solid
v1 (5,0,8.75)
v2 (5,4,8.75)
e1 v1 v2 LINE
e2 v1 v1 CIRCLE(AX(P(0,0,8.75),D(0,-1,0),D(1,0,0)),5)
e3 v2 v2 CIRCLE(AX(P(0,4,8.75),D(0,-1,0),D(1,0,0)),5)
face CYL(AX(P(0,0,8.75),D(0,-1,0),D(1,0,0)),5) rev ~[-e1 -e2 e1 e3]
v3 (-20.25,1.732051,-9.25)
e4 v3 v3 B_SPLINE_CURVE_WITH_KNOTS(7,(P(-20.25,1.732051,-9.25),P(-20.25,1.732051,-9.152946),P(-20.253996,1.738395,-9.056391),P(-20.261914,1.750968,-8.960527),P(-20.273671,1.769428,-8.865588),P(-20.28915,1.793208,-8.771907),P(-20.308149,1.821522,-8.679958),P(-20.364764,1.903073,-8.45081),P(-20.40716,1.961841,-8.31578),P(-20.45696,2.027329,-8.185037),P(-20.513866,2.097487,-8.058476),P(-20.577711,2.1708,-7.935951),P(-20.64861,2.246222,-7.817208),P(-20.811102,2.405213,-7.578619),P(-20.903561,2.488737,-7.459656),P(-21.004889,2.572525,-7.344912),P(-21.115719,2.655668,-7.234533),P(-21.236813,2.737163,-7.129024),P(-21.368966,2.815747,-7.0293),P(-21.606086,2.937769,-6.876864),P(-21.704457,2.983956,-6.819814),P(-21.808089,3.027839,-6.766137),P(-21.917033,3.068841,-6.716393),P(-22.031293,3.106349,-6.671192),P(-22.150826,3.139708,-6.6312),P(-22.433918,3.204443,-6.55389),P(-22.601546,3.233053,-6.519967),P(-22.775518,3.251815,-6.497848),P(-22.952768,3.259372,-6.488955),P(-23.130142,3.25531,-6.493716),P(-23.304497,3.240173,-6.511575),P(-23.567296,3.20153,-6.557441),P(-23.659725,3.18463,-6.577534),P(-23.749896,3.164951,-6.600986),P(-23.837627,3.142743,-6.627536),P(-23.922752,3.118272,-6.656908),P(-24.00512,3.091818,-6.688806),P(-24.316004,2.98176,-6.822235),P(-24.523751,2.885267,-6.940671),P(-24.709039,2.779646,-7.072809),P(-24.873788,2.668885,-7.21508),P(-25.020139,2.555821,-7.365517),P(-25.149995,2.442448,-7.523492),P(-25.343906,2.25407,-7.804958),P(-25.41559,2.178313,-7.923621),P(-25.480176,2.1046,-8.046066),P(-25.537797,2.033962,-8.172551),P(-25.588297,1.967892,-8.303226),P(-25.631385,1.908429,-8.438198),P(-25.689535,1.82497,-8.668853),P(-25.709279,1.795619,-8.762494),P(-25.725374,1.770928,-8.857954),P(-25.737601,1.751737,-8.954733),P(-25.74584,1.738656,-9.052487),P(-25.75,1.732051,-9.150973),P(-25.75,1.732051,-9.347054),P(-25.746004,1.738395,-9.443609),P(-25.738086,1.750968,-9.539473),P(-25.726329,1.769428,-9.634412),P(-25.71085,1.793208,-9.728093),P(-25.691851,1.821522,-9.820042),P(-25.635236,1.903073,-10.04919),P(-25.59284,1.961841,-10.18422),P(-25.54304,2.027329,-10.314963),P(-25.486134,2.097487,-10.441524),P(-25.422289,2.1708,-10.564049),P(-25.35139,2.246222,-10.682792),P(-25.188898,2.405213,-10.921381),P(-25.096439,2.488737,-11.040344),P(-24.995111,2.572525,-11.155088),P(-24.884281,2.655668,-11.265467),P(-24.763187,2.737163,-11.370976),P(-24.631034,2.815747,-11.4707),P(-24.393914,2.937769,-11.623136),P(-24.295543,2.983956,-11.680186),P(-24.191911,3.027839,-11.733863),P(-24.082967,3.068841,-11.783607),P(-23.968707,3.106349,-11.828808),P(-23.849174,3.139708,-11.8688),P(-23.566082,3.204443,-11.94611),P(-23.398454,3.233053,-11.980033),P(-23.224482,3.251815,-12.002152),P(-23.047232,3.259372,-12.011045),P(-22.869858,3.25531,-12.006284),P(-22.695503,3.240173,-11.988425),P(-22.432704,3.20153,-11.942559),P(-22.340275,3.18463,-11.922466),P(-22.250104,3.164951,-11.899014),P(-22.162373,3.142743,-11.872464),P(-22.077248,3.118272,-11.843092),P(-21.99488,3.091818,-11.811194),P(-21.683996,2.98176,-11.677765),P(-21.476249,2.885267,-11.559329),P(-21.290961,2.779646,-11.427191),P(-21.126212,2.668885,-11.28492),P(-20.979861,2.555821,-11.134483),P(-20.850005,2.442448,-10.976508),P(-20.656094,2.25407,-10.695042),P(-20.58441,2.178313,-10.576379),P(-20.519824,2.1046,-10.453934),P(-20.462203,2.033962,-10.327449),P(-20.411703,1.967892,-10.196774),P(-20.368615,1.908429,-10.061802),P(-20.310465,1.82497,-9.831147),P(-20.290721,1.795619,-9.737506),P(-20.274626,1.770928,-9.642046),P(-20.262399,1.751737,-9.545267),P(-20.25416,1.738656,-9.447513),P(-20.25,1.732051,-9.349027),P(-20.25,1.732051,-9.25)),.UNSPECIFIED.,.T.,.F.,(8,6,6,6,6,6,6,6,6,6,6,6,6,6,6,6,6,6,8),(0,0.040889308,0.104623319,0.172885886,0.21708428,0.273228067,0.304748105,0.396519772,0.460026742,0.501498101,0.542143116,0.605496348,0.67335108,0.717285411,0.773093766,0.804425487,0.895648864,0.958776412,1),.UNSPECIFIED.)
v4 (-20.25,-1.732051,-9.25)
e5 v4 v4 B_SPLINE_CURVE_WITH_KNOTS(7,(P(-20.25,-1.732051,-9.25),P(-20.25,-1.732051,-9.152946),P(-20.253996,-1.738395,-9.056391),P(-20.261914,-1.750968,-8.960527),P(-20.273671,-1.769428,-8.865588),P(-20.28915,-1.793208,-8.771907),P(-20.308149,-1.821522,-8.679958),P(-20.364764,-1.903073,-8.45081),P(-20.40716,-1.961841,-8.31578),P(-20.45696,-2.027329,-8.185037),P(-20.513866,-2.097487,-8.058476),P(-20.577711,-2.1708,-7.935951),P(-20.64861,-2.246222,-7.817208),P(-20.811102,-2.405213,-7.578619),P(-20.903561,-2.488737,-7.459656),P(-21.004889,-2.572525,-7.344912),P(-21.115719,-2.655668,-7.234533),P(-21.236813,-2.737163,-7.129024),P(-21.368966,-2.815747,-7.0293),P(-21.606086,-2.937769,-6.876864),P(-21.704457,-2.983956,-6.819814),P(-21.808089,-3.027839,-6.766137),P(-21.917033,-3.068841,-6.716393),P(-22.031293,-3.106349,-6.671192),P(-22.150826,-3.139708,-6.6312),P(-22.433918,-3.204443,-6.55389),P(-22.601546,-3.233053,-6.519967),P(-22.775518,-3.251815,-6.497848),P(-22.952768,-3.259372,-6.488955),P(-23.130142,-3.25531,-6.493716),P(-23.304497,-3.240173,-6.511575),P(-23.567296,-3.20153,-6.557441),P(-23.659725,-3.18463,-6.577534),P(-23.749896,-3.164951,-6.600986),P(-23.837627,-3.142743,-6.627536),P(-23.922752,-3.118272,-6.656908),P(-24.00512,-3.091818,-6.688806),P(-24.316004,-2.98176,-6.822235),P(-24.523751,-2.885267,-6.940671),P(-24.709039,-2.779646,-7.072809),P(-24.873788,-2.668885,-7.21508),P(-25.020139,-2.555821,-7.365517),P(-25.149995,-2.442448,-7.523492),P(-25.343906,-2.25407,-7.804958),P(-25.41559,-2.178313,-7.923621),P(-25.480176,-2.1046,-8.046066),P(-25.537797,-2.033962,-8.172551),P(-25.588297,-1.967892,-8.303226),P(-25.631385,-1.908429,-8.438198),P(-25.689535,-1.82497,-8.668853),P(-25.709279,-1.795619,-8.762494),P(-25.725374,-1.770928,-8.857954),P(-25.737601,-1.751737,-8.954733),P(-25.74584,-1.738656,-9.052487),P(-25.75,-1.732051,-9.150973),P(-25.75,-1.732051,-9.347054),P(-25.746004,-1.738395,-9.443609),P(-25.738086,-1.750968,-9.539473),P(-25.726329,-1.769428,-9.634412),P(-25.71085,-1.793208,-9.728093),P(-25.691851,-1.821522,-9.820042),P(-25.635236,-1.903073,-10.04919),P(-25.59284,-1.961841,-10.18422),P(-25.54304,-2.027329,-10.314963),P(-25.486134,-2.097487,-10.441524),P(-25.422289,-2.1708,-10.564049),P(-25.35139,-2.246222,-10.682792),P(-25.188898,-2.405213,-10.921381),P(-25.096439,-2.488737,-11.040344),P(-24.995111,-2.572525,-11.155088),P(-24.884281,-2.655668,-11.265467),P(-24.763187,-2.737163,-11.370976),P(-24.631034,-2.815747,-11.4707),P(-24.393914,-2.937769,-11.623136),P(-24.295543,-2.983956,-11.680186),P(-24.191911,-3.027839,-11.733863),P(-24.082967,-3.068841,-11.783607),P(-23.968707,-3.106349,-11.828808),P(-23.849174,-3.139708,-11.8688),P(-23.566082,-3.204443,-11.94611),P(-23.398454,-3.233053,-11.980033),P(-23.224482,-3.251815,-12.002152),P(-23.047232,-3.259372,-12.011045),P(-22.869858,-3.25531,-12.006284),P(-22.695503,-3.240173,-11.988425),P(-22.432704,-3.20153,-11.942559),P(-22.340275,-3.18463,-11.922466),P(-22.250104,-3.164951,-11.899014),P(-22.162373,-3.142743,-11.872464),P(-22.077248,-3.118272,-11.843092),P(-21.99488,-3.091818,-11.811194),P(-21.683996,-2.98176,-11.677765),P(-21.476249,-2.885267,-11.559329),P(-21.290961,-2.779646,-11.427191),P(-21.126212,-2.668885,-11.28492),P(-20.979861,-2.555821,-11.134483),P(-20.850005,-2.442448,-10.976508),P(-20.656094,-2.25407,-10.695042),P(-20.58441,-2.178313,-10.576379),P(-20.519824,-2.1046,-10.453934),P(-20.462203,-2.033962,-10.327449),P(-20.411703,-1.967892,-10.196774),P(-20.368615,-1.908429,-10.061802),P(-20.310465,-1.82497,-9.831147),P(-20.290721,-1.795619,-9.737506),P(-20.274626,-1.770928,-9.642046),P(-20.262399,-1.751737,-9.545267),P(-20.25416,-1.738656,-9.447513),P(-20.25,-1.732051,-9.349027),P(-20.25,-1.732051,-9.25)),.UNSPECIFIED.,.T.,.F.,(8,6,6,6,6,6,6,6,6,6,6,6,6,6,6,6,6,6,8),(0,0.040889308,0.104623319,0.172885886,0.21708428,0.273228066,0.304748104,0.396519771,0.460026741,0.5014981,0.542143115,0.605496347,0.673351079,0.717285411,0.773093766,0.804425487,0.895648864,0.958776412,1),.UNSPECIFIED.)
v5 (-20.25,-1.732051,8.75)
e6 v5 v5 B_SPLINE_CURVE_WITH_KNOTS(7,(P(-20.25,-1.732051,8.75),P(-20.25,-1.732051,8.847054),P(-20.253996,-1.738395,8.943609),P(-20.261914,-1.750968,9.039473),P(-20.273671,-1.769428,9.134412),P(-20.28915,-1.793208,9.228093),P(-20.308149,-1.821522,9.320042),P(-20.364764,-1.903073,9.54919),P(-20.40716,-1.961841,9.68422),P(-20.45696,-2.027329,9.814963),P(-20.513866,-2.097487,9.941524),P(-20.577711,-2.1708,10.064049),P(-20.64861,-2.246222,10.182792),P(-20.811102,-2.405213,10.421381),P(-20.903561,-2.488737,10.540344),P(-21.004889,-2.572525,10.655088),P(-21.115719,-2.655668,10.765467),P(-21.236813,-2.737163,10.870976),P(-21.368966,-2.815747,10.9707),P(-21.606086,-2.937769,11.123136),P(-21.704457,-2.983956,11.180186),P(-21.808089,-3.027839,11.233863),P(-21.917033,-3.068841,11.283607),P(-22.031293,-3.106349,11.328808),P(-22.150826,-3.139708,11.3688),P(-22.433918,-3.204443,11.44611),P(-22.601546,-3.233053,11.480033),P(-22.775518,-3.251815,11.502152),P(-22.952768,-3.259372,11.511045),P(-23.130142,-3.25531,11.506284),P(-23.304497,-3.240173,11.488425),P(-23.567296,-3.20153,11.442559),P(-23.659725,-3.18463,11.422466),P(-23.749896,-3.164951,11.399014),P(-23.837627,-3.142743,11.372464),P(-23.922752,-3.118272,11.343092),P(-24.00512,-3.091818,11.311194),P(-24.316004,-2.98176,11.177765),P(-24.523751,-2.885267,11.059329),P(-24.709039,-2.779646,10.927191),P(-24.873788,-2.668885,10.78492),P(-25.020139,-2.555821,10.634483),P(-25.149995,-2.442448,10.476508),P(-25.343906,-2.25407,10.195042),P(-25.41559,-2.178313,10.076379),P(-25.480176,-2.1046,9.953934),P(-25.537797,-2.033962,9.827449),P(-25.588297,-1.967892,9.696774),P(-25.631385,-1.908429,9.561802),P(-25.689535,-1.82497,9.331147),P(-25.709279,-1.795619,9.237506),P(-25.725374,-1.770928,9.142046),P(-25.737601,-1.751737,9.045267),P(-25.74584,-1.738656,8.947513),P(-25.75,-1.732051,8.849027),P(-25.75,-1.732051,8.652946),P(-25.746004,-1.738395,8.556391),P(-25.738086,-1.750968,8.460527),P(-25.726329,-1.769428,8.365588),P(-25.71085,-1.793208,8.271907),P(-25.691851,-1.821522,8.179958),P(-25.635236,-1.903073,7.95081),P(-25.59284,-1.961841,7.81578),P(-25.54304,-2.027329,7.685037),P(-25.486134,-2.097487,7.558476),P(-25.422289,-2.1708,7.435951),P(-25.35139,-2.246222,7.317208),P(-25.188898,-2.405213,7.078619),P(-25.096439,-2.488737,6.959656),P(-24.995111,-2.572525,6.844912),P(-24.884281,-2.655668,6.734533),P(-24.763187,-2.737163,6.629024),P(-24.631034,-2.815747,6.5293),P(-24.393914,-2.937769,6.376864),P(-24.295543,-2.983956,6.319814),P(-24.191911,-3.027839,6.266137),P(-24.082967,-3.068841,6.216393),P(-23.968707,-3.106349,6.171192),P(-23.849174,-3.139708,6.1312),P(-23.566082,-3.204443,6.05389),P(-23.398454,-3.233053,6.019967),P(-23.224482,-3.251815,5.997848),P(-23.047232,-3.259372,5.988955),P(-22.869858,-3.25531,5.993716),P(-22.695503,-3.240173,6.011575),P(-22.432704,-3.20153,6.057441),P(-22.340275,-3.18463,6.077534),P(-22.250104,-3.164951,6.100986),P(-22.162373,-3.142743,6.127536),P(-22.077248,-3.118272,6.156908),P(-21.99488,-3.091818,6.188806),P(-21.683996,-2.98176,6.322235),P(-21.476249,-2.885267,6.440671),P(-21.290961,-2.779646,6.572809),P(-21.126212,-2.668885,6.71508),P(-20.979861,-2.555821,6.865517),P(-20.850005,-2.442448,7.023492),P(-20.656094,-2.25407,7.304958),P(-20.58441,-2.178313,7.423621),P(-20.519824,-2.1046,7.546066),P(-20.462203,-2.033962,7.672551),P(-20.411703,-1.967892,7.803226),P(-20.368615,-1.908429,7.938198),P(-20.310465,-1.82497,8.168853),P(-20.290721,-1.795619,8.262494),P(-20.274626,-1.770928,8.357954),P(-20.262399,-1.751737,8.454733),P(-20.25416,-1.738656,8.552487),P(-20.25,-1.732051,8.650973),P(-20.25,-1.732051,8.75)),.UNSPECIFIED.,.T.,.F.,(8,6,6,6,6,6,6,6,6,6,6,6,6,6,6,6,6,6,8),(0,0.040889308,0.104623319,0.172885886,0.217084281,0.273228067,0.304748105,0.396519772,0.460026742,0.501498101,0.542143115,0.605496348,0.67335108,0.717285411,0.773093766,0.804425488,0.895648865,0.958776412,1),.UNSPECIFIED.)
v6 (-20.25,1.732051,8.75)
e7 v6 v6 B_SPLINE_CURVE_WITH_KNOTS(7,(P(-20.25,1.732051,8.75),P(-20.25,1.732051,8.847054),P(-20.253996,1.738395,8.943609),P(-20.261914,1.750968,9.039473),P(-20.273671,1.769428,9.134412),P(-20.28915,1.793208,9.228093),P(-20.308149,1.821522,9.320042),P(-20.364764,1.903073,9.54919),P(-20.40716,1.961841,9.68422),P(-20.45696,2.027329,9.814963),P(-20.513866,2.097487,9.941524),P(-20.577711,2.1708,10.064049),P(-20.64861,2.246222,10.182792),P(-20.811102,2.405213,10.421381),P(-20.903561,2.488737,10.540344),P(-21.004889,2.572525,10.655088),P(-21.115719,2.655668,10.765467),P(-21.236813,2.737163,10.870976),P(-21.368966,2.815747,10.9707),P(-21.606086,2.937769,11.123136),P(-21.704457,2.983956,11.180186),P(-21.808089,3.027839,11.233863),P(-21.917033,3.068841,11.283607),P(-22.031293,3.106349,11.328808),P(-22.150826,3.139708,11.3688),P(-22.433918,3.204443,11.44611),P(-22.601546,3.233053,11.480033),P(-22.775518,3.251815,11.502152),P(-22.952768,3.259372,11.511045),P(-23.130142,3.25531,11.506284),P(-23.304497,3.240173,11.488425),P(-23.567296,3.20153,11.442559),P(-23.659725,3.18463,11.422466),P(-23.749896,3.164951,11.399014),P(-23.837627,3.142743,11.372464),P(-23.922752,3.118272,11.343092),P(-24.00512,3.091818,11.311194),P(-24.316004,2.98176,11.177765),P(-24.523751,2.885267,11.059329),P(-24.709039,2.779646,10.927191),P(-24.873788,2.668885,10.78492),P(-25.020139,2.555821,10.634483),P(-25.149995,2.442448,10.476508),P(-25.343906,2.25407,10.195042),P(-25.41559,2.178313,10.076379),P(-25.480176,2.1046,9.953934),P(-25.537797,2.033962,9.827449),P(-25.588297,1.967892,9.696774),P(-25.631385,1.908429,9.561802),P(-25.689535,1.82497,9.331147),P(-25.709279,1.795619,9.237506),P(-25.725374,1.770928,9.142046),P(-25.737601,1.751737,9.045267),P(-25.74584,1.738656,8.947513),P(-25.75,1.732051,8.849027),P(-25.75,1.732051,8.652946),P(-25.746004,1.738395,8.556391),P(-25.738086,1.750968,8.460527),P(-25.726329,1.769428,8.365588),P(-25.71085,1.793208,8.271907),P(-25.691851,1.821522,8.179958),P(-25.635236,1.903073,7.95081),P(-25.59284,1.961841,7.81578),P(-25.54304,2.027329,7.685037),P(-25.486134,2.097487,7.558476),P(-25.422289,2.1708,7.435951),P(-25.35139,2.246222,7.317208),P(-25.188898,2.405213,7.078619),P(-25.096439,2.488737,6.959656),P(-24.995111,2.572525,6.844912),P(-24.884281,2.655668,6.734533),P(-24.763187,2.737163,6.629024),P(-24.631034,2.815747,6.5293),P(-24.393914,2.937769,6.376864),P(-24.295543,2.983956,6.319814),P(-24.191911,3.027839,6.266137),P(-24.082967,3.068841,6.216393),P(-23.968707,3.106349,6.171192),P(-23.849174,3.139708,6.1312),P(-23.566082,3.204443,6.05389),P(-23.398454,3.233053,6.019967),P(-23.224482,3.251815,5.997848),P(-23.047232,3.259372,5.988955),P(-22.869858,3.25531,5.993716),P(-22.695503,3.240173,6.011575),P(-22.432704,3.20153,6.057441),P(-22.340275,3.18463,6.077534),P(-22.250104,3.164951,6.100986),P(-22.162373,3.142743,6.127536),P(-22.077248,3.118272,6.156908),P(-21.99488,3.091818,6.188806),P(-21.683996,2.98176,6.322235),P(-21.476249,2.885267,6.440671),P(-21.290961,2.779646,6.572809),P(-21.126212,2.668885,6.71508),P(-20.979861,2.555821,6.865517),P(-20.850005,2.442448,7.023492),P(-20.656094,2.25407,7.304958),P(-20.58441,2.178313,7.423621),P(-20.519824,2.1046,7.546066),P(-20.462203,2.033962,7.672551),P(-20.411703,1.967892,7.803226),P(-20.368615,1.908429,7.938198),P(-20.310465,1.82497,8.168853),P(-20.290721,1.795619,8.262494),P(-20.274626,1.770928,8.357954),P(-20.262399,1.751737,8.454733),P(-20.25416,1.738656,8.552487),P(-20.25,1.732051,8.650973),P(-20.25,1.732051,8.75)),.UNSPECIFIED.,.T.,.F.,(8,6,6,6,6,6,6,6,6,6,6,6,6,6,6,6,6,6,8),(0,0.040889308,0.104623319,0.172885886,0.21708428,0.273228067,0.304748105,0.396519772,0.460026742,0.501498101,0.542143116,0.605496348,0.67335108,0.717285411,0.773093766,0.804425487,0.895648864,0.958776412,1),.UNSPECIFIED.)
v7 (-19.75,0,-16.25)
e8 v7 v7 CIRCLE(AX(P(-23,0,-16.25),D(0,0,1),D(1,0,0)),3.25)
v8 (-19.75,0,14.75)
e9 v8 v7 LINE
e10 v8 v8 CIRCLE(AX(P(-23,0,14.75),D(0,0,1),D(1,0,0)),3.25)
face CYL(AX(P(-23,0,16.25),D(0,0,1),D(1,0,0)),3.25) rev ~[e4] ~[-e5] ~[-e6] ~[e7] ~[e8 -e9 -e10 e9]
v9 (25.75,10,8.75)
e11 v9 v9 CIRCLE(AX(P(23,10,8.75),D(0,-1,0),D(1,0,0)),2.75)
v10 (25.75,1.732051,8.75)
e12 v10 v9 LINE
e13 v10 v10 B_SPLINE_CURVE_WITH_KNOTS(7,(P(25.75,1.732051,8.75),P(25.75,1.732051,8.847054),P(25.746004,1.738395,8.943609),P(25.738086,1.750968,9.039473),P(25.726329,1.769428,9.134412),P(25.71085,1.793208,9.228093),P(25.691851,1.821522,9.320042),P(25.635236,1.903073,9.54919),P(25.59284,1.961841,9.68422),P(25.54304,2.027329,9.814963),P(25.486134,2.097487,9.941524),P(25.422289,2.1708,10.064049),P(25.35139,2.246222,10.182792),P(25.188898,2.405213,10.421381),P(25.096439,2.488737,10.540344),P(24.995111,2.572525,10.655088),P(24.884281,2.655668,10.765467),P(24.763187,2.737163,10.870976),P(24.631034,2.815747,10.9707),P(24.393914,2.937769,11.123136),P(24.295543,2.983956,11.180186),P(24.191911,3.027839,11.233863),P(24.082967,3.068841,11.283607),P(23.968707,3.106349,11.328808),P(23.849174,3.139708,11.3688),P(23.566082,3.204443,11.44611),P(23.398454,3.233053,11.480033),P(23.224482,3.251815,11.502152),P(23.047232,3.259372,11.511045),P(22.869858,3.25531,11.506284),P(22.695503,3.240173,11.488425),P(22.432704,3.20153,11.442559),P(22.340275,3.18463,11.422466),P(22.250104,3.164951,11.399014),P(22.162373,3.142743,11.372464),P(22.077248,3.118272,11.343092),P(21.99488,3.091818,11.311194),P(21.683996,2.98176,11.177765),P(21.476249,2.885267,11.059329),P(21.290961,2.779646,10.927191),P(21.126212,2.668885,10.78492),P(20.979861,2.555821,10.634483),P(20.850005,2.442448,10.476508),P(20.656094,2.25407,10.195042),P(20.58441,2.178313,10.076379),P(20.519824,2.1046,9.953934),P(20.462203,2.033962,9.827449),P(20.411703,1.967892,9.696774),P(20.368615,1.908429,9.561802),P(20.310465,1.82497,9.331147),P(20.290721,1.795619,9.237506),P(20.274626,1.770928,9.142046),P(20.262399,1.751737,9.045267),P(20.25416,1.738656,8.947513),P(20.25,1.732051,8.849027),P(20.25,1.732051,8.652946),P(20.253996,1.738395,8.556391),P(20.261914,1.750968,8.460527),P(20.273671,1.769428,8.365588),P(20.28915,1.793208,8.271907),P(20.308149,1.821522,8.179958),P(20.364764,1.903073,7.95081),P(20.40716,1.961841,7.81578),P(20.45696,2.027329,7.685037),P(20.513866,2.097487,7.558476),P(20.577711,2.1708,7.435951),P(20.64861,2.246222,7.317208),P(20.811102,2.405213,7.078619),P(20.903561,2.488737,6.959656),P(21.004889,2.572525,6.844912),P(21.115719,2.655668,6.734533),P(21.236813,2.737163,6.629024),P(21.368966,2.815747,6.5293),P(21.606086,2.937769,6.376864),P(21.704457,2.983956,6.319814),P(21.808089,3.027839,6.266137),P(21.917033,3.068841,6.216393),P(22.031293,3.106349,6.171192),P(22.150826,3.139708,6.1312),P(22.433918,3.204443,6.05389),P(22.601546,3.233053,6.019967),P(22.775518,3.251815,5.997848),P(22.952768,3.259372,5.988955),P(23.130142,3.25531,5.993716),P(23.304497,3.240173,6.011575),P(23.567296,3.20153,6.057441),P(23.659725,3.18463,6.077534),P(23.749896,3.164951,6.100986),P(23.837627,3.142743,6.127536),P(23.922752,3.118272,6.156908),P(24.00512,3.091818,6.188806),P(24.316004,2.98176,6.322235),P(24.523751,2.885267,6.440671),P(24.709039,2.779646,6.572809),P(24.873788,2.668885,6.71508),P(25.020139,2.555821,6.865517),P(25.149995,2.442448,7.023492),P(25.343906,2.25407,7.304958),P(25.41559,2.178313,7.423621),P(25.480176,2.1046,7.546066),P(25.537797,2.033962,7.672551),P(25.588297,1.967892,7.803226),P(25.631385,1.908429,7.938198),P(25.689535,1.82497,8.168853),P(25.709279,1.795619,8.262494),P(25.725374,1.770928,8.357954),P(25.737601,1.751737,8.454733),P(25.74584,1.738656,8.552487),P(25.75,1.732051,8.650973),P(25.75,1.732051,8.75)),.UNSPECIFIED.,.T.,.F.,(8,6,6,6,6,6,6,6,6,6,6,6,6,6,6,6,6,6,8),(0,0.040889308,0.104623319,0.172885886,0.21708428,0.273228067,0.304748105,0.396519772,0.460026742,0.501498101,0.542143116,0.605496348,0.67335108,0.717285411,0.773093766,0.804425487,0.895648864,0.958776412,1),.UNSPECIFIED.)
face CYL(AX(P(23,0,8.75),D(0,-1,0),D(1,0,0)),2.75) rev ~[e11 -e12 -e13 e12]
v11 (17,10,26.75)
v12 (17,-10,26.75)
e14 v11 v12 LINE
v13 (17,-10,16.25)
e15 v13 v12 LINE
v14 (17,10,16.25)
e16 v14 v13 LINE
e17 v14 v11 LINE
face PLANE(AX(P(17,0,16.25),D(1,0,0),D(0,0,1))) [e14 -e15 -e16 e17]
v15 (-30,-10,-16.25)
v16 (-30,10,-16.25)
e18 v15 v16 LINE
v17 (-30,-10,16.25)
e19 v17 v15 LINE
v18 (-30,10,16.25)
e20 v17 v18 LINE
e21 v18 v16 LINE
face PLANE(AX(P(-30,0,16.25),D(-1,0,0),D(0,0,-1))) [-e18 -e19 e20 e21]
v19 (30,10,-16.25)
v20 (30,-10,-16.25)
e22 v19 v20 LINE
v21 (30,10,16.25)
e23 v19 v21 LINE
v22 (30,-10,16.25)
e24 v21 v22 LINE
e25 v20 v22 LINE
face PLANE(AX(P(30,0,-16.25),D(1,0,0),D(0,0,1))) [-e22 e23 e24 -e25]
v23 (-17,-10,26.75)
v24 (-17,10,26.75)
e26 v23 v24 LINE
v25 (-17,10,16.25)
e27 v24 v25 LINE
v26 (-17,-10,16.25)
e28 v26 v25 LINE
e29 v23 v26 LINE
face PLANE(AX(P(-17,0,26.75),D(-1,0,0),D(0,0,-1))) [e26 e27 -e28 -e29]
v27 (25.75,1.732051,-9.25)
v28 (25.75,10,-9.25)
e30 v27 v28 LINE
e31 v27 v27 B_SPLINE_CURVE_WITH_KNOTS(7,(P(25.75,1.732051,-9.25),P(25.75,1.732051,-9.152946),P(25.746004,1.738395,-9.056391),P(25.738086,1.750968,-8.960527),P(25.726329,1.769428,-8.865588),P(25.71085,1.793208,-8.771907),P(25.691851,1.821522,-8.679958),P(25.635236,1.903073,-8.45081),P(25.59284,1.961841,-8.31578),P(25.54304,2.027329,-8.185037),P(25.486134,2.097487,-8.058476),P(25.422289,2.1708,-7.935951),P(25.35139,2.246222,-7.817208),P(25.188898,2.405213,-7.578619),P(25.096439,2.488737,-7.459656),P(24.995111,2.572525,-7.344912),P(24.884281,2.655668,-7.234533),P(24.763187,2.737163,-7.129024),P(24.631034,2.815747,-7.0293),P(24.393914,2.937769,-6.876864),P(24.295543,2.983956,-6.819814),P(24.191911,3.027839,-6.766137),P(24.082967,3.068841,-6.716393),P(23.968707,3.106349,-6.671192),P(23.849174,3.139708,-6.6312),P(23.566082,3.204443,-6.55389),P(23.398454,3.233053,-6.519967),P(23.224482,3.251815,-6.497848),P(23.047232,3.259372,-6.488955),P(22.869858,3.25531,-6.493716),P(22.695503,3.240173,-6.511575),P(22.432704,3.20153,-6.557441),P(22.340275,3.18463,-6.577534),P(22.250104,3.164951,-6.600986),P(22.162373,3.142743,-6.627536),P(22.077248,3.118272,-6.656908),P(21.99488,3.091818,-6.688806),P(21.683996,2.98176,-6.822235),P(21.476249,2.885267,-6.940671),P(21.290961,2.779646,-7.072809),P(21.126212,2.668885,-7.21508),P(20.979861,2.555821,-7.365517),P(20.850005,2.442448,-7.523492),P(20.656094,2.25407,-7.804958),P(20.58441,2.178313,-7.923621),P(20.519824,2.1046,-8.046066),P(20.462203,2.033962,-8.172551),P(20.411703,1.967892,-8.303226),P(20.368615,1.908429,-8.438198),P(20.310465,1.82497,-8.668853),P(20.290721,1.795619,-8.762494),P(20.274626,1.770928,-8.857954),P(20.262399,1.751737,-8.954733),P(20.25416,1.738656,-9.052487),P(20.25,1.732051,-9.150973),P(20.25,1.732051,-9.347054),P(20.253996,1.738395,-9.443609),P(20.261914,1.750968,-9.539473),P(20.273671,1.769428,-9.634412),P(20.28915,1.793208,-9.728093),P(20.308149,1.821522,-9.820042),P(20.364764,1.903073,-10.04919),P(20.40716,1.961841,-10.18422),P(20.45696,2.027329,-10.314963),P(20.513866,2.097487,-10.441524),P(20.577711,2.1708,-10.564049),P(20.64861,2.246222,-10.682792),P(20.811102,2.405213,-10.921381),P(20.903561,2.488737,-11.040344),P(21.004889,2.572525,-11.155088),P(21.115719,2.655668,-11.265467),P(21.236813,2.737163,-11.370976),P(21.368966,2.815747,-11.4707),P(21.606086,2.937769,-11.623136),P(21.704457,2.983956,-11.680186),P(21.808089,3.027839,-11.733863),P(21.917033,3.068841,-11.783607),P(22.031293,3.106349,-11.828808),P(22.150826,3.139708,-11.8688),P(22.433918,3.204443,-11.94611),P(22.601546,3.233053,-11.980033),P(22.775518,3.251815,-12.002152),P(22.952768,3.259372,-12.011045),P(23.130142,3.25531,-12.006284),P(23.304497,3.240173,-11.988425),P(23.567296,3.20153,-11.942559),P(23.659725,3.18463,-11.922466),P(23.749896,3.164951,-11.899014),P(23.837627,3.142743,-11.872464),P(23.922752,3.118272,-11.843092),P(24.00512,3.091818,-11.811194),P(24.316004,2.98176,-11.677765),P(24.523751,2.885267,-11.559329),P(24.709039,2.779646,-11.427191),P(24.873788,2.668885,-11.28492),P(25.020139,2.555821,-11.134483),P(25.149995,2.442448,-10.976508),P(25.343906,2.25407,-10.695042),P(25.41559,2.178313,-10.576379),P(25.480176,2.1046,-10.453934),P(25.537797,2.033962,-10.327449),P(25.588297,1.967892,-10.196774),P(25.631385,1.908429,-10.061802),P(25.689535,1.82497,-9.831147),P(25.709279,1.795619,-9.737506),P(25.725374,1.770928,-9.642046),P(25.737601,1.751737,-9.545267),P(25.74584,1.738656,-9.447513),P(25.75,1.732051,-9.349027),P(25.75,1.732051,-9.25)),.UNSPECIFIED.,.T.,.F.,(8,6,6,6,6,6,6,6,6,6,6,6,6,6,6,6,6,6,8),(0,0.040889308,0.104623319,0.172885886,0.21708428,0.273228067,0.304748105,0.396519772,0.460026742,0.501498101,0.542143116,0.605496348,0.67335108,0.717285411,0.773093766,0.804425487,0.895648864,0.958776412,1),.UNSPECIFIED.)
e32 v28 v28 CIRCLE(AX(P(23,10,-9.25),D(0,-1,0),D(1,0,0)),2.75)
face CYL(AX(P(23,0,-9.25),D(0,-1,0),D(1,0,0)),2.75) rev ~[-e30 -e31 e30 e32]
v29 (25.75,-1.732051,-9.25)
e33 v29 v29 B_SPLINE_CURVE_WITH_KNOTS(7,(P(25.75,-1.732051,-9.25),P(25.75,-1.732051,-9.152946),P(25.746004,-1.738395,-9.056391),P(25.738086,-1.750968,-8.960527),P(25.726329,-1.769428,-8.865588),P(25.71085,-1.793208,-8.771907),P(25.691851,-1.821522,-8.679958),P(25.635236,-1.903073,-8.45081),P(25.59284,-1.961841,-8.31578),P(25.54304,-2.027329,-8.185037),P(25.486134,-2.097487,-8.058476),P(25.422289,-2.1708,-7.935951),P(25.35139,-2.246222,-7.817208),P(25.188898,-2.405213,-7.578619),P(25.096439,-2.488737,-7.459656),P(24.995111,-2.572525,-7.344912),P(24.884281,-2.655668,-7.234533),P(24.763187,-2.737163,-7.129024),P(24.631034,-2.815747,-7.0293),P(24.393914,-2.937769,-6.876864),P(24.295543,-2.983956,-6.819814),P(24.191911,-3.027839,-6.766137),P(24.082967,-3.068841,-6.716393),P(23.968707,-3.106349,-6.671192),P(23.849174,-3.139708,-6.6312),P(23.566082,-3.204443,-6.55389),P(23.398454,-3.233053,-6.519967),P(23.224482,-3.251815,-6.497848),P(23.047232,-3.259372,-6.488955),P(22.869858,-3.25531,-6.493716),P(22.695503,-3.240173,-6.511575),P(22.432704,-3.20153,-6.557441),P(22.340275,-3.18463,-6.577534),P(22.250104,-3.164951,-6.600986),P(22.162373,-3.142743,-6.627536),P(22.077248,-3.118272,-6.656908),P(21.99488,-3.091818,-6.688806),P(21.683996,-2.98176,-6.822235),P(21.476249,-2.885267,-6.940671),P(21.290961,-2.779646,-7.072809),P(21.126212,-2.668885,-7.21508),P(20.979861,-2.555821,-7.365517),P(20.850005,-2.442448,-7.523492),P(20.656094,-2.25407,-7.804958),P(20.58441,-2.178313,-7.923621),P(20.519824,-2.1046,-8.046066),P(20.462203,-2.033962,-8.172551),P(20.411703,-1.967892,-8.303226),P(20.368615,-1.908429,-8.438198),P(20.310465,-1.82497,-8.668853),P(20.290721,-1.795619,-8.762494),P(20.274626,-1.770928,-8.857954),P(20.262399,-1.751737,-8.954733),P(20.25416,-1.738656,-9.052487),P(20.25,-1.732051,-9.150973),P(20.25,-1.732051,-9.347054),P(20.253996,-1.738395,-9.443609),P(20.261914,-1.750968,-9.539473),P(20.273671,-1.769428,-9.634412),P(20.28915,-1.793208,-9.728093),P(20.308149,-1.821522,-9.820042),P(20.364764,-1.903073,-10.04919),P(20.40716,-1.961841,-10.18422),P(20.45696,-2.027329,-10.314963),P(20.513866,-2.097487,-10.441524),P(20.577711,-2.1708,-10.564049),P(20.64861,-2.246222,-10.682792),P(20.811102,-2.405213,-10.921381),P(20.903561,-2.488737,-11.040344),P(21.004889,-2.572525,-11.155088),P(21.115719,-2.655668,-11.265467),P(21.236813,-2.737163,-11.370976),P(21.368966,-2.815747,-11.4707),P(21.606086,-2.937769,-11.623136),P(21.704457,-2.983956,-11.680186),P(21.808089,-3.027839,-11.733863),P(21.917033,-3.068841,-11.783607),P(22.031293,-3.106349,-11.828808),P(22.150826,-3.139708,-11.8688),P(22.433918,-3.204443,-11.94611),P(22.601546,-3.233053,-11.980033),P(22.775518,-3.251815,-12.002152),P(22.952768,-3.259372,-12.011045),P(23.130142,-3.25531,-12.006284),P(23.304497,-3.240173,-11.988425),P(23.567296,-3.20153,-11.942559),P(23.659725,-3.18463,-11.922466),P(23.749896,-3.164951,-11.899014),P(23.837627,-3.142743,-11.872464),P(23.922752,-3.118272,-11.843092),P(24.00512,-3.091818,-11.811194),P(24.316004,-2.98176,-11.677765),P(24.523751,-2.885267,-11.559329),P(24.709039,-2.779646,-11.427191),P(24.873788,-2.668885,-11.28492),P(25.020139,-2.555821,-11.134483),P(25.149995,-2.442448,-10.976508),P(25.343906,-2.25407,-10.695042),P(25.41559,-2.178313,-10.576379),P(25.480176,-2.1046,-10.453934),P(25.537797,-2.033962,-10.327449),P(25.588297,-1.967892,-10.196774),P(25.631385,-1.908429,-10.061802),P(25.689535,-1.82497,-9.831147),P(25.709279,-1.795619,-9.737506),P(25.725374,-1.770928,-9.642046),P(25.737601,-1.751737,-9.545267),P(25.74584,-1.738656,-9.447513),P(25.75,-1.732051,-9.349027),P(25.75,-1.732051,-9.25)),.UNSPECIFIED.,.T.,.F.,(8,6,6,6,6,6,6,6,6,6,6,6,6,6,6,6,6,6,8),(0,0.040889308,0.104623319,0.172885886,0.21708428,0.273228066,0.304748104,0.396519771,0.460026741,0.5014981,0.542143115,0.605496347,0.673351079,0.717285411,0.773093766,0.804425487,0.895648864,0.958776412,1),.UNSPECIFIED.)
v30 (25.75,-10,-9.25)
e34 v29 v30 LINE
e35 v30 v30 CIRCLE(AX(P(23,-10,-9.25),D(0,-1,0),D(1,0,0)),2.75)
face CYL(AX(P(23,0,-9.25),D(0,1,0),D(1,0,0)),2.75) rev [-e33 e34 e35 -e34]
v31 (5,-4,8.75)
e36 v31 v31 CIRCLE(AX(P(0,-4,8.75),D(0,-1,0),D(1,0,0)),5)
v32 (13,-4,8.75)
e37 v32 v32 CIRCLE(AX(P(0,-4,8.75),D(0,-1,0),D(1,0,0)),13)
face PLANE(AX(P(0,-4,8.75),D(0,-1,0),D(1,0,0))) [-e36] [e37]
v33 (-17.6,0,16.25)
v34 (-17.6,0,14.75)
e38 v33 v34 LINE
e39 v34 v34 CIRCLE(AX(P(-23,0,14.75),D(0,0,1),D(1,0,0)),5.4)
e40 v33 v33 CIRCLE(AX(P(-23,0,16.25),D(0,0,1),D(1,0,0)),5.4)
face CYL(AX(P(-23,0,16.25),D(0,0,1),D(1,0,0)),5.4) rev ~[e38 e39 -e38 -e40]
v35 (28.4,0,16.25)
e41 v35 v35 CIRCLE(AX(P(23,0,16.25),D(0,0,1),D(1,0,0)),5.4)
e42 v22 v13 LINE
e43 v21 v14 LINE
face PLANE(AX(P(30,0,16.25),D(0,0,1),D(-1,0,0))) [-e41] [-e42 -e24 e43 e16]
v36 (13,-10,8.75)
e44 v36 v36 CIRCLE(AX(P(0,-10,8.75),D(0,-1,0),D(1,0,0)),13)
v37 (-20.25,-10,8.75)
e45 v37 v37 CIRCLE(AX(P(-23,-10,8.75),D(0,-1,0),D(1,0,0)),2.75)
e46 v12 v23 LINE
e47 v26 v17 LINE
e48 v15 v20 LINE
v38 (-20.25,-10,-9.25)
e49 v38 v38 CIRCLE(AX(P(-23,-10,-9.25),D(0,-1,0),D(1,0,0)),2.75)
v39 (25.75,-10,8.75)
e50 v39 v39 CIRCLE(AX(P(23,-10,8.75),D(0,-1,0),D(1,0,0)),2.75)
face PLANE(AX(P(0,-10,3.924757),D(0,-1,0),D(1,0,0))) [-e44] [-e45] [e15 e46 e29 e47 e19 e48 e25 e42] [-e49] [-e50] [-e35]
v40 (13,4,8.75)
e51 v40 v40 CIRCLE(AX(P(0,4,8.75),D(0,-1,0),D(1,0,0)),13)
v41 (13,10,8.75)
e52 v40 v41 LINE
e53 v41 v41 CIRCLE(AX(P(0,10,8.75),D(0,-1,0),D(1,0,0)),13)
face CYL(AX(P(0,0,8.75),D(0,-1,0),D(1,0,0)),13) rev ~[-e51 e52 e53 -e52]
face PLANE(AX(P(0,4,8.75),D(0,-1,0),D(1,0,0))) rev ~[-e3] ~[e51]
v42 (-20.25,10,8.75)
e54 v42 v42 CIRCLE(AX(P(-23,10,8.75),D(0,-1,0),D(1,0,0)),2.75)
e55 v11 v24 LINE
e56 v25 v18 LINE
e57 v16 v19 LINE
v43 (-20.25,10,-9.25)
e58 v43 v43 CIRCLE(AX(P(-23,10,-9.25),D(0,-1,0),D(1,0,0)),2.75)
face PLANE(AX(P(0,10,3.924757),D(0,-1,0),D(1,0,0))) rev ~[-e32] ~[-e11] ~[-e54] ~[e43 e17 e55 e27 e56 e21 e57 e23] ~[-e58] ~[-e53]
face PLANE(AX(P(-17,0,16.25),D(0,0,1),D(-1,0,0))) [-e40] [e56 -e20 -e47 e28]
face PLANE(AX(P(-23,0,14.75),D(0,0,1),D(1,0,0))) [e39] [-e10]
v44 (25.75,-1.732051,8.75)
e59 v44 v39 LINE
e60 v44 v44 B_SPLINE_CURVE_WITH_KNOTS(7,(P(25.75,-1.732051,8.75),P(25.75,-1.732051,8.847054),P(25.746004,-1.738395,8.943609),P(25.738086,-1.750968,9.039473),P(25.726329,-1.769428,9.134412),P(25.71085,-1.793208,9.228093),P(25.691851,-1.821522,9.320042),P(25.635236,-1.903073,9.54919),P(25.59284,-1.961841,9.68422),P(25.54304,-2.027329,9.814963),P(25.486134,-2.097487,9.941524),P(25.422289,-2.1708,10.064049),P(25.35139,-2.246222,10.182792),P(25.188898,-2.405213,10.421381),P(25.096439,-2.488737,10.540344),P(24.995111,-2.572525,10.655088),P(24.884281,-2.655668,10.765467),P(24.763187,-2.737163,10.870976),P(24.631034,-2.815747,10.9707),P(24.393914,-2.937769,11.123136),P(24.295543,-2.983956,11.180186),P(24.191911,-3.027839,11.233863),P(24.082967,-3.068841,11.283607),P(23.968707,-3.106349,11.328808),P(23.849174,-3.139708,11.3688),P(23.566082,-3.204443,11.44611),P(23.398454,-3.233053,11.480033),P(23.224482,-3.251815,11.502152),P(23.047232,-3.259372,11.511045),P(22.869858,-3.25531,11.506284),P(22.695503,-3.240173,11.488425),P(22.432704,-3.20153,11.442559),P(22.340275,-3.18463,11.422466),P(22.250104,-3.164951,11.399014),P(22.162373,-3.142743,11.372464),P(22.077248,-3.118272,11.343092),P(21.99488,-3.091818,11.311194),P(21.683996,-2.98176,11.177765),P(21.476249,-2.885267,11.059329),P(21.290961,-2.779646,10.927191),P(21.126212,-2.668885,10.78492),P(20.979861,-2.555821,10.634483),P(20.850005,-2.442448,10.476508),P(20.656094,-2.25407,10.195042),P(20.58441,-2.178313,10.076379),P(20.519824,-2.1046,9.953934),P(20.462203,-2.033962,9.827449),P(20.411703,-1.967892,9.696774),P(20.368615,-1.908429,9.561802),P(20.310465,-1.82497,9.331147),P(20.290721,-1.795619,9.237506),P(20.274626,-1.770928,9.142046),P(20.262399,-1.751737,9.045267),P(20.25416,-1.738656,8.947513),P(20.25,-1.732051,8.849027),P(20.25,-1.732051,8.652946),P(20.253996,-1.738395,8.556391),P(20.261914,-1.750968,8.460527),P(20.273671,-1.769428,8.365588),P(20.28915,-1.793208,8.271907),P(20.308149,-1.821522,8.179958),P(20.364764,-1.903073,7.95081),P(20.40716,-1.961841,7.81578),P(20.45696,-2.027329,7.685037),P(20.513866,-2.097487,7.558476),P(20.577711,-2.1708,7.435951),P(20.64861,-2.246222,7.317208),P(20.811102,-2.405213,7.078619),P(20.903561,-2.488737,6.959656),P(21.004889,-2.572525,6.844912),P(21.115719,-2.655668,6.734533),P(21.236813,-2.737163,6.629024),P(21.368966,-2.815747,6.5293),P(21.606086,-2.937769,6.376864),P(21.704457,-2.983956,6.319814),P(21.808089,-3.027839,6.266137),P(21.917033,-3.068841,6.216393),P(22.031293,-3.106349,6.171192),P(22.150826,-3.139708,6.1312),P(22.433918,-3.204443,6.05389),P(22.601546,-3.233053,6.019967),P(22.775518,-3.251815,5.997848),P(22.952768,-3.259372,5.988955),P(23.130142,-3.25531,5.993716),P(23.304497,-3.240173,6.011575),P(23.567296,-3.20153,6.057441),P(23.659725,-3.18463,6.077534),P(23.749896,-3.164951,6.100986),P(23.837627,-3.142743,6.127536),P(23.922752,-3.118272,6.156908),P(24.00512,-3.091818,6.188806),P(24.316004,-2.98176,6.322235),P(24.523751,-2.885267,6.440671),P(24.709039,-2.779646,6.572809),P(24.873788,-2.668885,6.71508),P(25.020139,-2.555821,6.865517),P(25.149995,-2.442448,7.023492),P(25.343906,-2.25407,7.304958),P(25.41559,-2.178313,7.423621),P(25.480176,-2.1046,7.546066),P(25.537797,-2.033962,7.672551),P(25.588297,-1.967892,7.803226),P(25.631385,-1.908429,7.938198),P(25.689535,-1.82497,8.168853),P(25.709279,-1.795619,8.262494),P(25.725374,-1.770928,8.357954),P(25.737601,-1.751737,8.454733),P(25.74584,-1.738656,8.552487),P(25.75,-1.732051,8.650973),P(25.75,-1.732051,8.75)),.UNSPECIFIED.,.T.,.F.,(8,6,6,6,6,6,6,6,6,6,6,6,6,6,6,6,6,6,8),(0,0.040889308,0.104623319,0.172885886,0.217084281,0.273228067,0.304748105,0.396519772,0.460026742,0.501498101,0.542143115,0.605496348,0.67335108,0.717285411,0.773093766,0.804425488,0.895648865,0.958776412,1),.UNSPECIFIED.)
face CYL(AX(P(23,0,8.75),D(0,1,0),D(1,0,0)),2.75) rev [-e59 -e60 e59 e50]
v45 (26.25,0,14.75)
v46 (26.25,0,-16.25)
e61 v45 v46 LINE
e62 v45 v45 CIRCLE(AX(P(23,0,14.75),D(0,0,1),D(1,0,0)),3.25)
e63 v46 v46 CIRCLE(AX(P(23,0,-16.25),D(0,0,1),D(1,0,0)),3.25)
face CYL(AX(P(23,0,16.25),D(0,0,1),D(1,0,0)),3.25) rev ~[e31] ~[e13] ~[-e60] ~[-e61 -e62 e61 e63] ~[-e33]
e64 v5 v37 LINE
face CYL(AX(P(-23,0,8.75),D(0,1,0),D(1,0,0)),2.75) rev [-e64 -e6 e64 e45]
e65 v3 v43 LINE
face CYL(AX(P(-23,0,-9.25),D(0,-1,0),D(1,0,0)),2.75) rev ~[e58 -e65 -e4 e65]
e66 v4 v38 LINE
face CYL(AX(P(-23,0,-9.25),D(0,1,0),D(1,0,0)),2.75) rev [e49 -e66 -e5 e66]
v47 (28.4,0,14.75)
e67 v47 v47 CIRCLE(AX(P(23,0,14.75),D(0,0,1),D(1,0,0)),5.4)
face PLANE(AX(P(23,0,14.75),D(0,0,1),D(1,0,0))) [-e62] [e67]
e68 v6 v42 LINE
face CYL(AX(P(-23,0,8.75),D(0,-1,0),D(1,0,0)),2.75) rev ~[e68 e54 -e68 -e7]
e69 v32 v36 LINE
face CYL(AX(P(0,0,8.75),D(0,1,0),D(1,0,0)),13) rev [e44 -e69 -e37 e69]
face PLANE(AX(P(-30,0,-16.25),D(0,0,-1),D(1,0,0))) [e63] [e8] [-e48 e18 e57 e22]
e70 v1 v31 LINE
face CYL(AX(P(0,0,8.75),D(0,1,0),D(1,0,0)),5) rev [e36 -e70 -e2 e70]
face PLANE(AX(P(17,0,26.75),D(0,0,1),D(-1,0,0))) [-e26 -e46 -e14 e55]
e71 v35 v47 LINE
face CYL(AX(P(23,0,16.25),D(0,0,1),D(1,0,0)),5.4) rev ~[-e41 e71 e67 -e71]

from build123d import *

# Parameters (mm, degrees)
F0_R          = 2.75
F0_R_2        = 13
F1_DEPTH      = 10
F1_DEPTH_BACK = 10
F2_R          = 13
F2_R_2        = 5
F3_DEPTH      = 4
F3_DEPTH_BACK = 4
F4_R          = 3.25
F5_DEPTH      = 32.501
F6_R          = 5.4
F7_DEPTH      = 1.5


with BuildPart() as f1:
    # F0 (on Front) → F1 (new body, two sides)
    with BuildSketch(Plane.XZ) as f1_sk:
        Polygon((-30, -16.25), (30, -16.25), (30, 16.25), (17, 16.25), (17, 26.75), (-17, 26.75), (-17, 16.25), (-30, 16.25), align=None)
        with Locations((-23, -9.25)):
            Circle(F0_R, mode=Mode.SUBTRACT)
        with Locations((23, -9.25)):
            Circle(F0_R, mode=Mode.SUBTRACT)
        with Locations((-23, 8.75)):
            Circle(F0_R, mode=Mode.SUBTRACT)
        with Locations((0, 8.75)):
            Circle(F0_R_2, mode=Mode.SUBTRACT)
        with Locations((23, 8.75)):
            Circle(F0_R, mode=Mode.SUBTRACT)
    extrude(amount=F1_DEPTH)
    extrude(f1_sk.sketch, amount=-F1_DEPTH_BACK)

    # F2 (on Front) → F3 (join, two sides)
    with BuildSketch(Plane.XZ) as f3_sk:
        with Locations((0, 8.75)):
            Circle(F2_R)
        with Locations((0, 8.75)):
            Circle(F2_R_2, mode=Mode.SUBTRACT)
    extrude(amount=F3_DEPTH)
    extrude(f3_sk.sketch, amount=-F3_DEPTH_BACK)

    # F4 (on face) → F5 (cut, through all)
    with BuildSketch(Plane.XY.offset(16.25)):
        with Locations((-23, 0)):
            Circle(F4_R)
        with Locations((23, 0)):
            Circle(F4_R)
    extrude(amount=-F5_DEPTH, mode=Mode.SUBTRACT)

    # F6 (on face) → F7 (cut)
    with BuildSketch(Plane.XY.offset(16.25)):
        with Locations((-23, 0)):
            Circle(F6_R)
        with Locations((23, 0)):
            Circle(F6_R)
    extrude(amount=-F7_DEPTH, mode=Mode.SUBTRACT)


solid = f1.part
